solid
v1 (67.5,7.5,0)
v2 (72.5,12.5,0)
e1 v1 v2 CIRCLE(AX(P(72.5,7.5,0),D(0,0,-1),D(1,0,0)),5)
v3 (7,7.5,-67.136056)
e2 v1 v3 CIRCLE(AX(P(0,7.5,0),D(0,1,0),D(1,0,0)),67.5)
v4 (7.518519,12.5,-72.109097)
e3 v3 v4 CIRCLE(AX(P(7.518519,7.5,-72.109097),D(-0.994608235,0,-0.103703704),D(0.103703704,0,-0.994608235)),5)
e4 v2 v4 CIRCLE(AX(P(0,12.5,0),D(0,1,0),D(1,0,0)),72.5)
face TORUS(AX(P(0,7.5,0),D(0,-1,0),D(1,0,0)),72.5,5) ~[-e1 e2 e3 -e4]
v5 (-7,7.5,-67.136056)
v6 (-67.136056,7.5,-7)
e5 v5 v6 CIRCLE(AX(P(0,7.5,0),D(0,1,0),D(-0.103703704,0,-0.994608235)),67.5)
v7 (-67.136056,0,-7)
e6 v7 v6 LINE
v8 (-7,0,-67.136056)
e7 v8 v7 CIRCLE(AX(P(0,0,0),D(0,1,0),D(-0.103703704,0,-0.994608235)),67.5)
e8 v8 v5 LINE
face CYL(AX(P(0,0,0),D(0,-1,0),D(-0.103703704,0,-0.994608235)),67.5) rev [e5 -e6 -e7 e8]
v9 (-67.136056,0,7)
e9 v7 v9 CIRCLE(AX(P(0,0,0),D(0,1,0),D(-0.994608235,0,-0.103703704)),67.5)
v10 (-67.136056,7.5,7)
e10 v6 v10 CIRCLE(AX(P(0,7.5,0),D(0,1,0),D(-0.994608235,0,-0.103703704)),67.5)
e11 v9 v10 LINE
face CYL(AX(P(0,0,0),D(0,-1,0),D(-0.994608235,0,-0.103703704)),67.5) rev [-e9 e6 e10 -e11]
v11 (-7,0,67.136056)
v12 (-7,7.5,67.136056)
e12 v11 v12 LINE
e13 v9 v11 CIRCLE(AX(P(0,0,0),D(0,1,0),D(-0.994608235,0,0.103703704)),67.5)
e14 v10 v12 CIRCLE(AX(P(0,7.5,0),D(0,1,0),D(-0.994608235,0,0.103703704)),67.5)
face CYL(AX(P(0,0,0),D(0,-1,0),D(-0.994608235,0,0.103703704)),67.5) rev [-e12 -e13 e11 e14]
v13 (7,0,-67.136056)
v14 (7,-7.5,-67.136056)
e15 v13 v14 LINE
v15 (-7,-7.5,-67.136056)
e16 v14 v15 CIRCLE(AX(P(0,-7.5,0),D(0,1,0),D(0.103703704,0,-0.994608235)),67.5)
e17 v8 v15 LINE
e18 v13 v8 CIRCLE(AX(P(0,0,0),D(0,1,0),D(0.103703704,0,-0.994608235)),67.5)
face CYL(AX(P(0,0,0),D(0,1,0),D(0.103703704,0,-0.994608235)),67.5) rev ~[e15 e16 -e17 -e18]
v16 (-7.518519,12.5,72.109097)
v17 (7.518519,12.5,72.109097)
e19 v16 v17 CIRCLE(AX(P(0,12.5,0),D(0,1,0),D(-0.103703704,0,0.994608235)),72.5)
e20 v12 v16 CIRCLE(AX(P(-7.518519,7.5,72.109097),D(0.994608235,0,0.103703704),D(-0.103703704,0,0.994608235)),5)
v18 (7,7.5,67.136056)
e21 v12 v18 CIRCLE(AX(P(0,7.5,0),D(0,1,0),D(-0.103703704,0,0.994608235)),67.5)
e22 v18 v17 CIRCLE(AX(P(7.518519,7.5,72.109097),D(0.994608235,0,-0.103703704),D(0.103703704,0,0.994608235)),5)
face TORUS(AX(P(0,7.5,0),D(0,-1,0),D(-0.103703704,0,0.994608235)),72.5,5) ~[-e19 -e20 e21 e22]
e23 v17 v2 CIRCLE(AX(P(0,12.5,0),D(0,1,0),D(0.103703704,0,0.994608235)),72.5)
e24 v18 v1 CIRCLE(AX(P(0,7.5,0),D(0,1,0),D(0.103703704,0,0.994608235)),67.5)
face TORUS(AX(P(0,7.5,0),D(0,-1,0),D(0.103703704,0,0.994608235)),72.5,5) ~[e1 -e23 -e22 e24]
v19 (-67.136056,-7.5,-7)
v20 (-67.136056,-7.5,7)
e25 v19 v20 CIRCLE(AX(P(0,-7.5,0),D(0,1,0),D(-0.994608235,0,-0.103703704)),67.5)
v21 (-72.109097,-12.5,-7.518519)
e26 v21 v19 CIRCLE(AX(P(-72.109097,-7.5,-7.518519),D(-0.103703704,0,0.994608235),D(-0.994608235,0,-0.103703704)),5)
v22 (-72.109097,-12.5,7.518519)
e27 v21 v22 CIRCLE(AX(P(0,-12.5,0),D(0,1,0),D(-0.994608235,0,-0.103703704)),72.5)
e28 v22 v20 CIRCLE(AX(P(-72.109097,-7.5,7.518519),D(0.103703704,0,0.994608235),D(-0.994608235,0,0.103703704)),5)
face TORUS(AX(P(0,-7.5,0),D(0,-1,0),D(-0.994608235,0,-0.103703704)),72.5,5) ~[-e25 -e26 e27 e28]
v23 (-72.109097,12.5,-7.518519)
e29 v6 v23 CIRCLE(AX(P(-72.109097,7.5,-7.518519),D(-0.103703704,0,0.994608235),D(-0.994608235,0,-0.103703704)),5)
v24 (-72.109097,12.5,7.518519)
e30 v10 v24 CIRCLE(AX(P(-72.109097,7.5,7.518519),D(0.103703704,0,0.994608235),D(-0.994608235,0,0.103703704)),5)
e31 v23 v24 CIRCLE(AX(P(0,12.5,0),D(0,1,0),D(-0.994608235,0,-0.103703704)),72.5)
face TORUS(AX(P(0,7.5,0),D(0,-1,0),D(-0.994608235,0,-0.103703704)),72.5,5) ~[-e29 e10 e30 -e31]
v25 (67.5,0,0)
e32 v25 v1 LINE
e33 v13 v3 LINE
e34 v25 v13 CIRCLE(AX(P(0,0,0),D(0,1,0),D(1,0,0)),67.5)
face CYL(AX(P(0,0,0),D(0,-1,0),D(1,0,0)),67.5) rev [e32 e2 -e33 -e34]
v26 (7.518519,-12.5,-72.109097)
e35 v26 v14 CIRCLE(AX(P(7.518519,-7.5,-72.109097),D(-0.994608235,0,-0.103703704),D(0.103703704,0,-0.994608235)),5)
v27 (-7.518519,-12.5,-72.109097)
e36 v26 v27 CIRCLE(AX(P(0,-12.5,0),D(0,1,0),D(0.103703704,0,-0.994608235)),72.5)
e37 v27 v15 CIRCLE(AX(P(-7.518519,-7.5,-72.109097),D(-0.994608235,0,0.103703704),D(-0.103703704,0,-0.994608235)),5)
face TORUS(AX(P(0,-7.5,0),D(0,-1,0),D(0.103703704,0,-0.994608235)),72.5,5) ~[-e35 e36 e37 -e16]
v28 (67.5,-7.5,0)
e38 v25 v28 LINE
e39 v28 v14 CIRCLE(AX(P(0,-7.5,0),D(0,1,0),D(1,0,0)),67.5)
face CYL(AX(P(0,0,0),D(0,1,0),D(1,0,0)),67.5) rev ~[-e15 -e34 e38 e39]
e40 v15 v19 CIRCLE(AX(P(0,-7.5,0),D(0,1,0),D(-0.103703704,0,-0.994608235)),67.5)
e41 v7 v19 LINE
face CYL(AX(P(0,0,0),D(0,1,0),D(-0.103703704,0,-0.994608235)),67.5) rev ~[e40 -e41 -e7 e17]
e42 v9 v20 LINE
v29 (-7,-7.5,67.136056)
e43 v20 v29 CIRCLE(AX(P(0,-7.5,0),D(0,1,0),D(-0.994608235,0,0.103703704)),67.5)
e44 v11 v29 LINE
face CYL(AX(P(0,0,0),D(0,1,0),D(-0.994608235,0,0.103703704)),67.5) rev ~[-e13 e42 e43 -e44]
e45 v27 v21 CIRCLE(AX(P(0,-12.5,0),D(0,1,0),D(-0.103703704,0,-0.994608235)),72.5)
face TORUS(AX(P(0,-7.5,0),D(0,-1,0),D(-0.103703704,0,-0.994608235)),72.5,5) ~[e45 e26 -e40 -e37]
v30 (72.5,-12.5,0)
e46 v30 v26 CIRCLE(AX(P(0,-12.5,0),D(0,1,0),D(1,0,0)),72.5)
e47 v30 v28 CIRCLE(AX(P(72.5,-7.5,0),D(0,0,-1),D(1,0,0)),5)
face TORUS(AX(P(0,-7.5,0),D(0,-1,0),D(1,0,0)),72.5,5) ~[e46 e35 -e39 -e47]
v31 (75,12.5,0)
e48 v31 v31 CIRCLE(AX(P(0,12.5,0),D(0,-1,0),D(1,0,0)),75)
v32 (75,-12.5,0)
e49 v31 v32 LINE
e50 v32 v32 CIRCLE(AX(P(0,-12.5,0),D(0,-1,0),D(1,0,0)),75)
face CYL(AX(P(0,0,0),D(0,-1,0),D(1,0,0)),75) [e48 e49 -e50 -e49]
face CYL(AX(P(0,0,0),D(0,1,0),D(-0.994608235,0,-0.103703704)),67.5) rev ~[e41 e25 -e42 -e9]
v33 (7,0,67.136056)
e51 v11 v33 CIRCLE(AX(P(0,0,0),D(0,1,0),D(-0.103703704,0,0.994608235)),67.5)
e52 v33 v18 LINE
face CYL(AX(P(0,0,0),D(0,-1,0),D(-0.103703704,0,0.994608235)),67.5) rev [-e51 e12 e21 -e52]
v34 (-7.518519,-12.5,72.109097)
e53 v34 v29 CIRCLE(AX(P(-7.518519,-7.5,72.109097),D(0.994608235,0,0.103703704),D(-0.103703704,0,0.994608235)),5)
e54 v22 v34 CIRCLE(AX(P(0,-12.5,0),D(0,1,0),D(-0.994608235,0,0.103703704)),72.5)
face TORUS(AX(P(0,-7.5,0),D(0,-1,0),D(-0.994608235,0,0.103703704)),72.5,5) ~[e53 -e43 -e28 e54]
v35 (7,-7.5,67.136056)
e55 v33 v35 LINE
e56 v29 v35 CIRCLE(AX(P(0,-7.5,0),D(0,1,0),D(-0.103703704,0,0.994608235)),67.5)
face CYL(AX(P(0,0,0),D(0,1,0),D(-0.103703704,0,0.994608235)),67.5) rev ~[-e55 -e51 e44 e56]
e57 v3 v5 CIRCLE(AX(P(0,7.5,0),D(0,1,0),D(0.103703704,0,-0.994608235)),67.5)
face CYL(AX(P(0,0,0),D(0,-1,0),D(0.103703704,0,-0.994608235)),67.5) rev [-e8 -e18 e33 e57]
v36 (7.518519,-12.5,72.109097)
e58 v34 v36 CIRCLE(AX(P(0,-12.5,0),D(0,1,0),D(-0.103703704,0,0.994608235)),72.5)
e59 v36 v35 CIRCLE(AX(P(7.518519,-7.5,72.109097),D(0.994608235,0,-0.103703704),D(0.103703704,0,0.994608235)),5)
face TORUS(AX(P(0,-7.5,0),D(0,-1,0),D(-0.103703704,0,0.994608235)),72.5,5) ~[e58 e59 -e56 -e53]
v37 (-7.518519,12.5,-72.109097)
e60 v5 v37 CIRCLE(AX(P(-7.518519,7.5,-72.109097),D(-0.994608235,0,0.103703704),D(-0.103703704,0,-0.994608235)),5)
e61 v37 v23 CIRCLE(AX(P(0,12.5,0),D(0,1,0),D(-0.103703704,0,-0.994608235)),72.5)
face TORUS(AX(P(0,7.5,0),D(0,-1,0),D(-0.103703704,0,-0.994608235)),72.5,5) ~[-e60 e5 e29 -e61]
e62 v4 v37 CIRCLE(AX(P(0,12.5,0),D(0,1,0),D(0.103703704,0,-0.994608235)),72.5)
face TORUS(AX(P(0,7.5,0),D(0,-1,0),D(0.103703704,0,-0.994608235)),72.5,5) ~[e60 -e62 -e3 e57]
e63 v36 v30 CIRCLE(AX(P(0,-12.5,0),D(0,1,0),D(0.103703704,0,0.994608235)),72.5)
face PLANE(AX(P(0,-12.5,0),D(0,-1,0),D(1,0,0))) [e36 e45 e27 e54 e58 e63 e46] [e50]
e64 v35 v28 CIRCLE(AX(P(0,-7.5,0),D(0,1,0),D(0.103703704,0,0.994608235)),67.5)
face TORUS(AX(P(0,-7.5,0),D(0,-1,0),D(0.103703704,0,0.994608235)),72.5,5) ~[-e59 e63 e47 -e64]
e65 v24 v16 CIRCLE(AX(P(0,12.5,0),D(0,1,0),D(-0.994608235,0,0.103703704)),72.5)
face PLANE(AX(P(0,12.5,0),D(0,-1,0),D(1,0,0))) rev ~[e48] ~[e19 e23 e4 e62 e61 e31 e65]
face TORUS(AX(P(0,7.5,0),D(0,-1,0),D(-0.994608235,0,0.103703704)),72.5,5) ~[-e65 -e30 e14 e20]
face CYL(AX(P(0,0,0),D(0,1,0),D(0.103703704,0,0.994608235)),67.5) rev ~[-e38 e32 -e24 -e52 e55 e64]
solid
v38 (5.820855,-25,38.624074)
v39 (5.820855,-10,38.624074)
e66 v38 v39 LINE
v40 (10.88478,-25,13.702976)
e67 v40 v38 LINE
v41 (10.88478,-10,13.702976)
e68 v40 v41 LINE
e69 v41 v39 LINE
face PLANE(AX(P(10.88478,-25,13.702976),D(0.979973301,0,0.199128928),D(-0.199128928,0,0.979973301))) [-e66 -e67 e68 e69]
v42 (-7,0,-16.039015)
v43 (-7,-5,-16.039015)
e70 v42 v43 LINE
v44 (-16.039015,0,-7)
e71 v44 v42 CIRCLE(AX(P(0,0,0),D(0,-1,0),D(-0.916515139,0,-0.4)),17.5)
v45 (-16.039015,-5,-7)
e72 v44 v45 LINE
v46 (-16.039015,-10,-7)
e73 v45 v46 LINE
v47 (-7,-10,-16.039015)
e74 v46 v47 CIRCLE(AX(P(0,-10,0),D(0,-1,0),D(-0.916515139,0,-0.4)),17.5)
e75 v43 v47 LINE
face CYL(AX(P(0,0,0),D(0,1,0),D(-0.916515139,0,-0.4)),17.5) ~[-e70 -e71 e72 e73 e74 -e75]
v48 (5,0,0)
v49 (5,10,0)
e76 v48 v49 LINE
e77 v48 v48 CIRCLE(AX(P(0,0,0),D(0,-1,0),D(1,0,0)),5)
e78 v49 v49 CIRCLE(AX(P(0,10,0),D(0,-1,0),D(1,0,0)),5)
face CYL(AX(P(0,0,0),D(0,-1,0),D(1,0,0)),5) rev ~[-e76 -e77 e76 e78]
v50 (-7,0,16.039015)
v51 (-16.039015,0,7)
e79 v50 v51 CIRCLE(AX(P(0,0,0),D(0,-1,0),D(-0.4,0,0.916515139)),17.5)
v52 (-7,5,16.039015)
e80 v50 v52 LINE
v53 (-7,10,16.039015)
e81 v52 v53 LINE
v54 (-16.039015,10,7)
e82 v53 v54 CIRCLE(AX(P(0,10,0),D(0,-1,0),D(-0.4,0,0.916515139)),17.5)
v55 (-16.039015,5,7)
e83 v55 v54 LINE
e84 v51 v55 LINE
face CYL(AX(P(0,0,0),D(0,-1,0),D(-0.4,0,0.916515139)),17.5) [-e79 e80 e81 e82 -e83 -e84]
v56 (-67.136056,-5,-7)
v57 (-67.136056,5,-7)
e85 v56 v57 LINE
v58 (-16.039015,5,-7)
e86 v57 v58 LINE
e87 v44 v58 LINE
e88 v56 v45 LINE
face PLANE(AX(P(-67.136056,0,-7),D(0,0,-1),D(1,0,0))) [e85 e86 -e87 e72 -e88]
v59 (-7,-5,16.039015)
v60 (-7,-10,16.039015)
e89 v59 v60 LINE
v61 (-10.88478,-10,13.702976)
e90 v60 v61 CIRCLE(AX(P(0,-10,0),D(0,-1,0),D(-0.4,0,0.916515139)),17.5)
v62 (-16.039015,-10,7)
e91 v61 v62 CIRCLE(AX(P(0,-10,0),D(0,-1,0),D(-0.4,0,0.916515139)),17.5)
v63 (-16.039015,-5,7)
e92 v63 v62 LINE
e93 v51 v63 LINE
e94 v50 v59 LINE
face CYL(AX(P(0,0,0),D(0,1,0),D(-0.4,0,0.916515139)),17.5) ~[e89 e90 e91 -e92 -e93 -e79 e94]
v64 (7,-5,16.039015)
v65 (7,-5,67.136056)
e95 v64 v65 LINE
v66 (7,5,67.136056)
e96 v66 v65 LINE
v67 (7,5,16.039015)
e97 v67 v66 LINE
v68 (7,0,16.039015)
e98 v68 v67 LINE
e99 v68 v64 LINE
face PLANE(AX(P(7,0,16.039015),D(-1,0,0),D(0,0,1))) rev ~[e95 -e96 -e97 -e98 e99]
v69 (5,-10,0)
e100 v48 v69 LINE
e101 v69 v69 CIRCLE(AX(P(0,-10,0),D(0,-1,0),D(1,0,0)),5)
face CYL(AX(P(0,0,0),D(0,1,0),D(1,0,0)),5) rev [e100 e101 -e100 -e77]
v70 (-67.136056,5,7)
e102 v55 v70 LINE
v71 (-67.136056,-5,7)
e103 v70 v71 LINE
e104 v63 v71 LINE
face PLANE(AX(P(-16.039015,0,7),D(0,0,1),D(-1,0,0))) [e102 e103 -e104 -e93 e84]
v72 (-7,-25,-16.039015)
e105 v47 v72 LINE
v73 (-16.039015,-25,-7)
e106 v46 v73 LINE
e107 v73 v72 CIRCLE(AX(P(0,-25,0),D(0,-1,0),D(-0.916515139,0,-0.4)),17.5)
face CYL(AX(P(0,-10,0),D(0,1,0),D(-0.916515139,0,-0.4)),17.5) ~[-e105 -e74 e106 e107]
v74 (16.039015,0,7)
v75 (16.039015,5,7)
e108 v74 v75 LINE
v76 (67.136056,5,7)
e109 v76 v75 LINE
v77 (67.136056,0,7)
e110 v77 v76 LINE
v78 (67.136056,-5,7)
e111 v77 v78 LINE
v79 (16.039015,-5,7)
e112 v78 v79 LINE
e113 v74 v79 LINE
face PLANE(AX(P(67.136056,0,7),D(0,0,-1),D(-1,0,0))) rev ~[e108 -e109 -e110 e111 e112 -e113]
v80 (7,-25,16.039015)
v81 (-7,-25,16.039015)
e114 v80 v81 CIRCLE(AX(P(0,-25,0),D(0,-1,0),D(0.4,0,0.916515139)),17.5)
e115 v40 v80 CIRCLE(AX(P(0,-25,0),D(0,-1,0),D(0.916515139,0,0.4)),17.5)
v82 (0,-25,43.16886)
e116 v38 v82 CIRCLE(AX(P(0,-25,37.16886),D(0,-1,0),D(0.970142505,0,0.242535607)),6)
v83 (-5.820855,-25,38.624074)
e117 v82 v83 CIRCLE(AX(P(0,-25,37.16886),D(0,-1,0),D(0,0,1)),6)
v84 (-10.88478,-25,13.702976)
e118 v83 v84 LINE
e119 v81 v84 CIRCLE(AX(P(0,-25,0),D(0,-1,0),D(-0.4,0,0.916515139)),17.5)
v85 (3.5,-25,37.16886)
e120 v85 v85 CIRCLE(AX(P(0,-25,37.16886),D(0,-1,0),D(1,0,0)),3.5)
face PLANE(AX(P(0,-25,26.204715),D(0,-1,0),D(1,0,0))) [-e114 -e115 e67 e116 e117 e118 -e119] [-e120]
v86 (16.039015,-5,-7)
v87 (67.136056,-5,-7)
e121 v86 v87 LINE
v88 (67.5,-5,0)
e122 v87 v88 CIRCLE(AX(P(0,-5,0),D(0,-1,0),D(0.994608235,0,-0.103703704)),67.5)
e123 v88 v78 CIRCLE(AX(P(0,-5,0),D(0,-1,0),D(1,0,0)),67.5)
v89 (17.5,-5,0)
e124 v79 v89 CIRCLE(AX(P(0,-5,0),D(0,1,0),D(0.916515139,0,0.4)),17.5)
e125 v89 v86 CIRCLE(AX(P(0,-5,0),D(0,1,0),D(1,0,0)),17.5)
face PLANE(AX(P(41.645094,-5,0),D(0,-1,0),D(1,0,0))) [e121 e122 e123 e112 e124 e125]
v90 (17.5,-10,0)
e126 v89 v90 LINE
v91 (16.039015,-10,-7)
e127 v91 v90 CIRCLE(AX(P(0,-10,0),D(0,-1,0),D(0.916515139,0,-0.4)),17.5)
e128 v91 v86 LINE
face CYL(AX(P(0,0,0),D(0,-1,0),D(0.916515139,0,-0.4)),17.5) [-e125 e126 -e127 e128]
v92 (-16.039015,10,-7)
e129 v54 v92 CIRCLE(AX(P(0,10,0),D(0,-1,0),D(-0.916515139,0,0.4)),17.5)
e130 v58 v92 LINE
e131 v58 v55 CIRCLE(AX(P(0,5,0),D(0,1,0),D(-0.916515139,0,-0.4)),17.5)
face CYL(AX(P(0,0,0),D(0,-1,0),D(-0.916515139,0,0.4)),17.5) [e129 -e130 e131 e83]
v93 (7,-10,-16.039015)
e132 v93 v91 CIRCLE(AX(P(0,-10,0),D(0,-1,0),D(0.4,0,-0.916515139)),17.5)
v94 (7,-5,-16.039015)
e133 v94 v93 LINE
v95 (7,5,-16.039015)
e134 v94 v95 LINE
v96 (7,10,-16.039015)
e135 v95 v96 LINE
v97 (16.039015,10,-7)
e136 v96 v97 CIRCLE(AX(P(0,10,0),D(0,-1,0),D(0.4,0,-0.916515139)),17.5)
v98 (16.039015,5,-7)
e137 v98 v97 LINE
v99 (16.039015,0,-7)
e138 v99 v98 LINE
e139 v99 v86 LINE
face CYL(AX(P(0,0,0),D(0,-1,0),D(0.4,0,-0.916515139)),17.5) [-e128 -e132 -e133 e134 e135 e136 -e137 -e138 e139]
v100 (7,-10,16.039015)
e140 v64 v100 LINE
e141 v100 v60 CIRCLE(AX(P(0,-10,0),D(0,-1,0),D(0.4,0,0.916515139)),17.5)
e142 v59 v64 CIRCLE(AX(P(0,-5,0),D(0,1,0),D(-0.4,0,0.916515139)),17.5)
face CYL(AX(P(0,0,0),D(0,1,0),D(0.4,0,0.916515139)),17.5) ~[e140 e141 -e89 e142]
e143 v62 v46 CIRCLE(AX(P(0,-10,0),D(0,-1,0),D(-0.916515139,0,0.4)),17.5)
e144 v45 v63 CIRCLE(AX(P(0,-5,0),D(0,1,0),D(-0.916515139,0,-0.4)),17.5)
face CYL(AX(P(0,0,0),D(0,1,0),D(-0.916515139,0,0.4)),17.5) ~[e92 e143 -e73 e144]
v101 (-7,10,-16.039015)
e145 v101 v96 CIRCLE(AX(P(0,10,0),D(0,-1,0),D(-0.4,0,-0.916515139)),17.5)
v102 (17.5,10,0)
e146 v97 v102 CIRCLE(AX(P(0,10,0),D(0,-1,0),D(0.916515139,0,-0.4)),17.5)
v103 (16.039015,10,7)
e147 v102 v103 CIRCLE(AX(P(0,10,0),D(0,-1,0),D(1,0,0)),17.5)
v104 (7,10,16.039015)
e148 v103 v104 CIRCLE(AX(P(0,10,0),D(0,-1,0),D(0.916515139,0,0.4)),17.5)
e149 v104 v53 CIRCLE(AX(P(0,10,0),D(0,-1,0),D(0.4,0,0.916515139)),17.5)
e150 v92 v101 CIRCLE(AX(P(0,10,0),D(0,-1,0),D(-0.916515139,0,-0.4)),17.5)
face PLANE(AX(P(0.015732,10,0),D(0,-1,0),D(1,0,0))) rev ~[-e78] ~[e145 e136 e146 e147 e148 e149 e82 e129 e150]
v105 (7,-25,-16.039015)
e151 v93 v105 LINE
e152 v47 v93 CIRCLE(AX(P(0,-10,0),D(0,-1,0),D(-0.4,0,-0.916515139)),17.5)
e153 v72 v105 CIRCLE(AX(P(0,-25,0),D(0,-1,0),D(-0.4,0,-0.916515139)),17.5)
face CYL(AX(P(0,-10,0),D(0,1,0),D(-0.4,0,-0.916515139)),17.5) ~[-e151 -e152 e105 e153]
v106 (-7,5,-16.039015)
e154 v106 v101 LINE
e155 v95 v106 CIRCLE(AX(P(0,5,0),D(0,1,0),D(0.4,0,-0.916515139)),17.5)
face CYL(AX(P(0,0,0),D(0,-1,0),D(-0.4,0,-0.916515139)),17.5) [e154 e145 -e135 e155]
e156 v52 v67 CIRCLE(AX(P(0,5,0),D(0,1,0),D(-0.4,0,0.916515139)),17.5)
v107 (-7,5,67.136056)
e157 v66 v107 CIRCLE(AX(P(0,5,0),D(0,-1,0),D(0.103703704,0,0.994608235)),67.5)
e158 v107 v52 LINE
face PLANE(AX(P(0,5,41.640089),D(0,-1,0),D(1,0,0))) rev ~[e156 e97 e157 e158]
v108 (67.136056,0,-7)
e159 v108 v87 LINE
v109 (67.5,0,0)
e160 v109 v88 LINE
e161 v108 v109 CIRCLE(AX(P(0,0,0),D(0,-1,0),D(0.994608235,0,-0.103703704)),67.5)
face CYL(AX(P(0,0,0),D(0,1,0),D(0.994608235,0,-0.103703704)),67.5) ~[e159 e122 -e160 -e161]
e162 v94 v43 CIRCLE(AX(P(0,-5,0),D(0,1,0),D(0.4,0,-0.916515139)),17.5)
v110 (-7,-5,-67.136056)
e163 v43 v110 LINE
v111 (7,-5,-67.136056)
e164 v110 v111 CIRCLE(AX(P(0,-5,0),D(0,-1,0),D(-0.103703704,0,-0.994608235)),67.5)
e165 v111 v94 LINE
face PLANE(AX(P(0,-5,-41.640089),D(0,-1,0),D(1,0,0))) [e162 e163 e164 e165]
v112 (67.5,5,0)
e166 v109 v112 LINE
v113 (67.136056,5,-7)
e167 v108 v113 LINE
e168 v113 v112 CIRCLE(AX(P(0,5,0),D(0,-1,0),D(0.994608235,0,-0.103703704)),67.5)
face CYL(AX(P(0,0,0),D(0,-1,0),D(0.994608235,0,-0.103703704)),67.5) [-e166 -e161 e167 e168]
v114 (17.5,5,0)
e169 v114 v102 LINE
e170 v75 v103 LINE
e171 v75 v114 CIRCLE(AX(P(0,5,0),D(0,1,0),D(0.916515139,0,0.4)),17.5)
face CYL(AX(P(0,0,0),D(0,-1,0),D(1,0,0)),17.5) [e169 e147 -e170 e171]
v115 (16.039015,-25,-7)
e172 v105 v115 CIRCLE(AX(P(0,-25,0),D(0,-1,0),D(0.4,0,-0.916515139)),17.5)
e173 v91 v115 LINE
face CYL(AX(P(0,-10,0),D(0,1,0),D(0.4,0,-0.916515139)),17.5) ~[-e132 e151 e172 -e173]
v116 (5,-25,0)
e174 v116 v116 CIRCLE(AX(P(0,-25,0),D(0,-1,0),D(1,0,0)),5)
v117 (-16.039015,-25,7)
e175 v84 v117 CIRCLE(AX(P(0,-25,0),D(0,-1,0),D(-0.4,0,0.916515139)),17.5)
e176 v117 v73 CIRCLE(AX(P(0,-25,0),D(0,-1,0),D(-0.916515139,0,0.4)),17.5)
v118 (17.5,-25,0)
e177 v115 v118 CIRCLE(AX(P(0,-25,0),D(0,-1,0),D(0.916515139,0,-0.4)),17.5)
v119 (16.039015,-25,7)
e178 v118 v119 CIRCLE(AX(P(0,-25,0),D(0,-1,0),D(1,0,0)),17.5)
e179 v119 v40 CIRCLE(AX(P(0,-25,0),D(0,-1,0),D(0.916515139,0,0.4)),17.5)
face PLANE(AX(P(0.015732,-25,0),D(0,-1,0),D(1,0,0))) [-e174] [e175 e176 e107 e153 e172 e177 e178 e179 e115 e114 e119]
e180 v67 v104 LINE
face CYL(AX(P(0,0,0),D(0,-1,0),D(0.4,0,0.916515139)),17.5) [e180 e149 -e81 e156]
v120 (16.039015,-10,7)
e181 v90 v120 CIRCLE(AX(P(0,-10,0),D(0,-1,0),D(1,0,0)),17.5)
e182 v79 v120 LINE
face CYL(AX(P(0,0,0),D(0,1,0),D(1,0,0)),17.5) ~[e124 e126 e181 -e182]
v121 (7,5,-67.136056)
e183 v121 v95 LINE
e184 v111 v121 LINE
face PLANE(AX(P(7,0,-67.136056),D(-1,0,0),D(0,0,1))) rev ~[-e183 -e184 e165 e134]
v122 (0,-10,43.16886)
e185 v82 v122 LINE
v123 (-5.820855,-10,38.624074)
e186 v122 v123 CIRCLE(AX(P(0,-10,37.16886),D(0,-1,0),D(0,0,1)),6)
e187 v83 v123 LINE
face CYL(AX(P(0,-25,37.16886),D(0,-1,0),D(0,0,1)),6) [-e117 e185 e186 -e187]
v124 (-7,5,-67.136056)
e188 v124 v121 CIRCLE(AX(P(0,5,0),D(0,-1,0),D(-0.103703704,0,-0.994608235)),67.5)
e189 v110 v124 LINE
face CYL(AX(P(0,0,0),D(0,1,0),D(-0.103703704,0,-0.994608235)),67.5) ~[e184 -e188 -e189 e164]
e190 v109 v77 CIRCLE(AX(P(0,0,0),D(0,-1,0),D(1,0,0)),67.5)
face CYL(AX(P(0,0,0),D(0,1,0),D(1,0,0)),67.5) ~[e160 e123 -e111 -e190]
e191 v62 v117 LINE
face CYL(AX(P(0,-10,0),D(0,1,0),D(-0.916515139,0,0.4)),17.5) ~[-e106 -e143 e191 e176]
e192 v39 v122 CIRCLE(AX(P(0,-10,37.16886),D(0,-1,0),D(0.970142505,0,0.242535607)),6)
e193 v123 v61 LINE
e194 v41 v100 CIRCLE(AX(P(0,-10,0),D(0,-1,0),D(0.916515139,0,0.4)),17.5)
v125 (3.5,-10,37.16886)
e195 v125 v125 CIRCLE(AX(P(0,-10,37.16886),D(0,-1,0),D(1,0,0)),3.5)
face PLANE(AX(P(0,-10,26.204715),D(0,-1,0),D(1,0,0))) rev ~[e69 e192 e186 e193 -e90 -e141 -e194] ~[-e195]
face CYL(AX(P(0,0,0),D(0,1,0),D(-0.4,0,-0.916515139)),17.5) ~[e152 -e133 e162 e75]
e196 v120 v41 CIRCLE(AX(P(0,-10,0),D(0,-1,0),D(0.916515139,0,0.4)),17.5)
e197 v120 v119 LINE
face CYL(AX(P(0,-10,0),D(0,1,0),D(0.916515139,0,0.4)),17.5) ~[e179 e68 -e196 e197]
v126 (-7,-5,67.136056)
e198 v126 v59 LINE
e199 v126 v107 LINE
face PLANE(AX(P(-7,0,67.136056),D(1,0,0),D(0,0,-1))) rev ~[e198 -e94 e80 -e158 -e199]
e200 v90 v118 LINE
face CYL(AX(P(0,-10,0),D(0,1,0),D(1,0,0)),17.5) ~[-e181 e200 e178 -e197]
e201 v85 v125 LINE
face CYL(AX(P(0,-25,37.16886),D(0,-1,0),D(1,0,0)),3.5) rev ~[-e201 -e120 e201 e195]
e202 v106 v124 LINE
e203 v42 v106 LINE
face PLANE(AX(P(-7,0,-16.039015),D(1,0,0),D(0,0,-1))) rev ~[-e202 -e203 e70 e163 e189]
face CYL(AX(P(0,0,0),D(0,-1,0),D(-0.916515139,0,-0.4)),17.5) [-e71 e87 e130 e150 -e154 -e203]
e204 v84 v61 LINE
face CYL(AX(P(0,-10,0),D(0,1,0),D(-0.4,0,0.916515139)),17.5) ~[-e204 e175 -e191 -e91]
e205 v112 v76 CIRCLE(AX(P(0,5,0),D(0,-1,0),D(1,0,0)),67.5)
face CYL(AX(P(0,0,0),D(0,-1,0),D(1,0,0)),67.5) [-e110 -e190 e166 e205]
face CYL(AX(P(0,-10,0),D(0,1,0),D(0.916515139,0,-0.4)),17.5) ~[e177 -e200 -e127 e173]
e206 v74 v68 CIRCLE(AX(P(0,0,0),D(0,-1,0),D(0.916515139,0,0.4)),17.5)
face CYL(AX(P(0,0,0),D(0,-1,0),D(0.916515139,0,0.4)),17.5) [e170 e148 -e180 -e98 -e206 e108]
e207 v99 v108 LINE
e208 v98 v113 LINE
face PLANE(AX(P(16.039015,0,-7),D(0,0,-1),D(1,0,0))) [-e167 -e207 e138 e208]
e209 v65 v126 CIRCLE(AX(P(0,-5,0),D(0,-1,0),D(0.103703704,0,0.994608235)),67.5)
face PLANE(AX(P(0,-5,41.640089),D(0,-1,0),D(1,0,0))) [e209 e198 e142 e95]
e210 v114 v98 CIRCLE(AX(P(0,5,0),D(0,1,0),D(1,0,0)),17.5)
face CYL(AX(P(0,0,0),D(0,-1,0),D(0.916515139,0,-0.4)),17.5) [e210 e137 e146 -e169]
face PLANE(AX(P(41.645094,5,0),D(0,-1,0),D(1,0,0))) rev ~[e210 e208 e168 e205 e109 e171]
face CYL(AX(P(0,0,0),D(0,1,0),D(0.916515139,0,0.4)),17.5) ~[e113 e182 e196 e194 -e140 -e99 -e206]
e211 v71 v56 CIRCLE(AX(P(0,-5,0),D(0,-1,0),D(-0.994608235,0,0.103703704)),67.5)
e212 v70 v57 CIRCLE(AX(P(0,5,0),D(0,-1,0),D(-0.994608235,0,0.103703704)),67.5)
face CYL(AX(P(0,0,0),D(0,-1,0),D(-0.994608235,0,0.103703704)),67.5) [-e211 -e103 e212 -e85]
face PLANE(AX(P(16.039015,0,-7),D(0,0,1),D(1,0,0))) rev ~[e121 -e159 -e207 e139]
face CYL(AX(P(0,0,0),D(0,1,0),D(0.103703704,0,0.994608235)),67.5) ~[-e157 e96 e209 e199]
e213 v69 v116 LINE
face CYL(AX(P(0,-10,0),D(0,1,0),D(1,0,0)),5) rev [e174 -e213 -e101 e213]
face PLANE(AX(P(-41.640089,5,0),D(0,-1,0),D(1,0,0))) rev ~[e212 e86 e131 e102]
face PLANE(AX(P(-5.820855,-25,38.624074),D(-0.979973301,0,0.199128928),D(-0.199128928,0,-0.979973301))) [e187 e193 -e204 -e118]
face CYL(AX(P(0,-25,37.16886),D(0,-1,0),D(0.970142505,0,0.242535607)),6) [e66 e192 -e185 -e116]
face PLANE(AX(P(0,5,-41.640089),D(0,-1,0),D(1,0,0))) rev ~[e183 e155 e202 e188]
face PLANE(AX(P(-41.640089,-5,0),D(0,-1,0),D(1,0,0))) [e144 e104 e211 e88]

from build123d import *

# Parameters (mm, degrees)
F0_R     = 75
F1_DEPTH = 12.5
F0_R_2   = 5
F2_DEPTH = 10
F3_DEPTH = 5
F4_R     = 5
F5_DEPTH = 15
F6_R     = 3.5
F7_DEPTH = 15
F8_R     = 5


with BuildPart() as f1:
    # F0 (on Front) → F1 (new body, symmetric)
    with BuildSketch(Plane.XZ):
        Circle(F0_R)
        with BuildLine():
            ThreePointArc((7, 67.1360558865), (47.7297077301, 47.7297077301), (67.1360558865, 7))
            ThreePointArc((67.1360558865, 7), (67.4089525669, 3.5047273545), (67.5, 0))
            ThreePointArc((67.5, 0), (67.4089525669, -3.5047273545), (67.1360558865, -7))
            ThreePointArc((67.1360558865, -7), (47.7297077301, -47.7297077301), (7, -67.1360558865))
            ThreePointArc((7, -67.1360558865), (0, -67.5), (-7, -67.1360558865))
            ThreePointArc((-7, -67.1360558865), (-47.7297077301, -47.7297077301), (-67.1360558865, -7))
            ThreePointArc((-67.1360558865, -7), (-67.5, 0), (-67.1360558865, 7))
            ThreePointArc((-67.1360558865, 7), (-47.7297077301, 47.7297077301), (-7, 67.1360558865))
            ThreePointArc((-7, 67.1360558865), (0, 67.5), (7, 67.1360558865))
        make_face(mode=Mode.SUBTRACT)
    extrude(amount=F1_DEPTH, both=True)

    # F8
    f8_edges = [f1.edges().sort_by_distance(p)[0] for p in [
        (-67.5, -12.5, 0),
        (-67.5, 12.5, 0),
    ]]
    fillet(f8_edges, radius=F8_R)


with BuildPart() as f2:
    # F0 (on Front) → F2 (new body, symmetric)
    with BuildSketch(Plane.XZ):
        with BuildLine():
            ThreePointArc((16.0390149323, -7), (17.1308604763, -3.5754187646), (17.5, 0))
            ThreePointArc((17.5, 0), (17.1308604763, 3.5754187646), (16.0390149323, 7))
            ThreePointArc((16.0390149323, 7), (12.3743686708, 12.3743686708), (7, 16.0390149323))
            ThreePointArc((7, 16.0390149323), (0, 17.5), (-7, 16.0390149323))
            ThreePointArc((-7, 16.0390149323), (-12.3743686708, 12.3743686708), (-16.0390149323, 7))
            ThreePointArc((-16.0390149323, 7), (-17.5, 0), (-16.0390149323, -7))
            ThreePointArc((-16.0390149323, -7), (-12.3743686708, -12.3743686708), (-7, -16.0390149323))
            ThreePointArc((-7, -16.0390149323), (0, -17.5), (7, -16.0390149323))
            ThreePointArc((7, -16.0390149323), (12.3743686708, -12.3743686708), (16.0390149323, -7))
        make_face()
        Circle(F0_R_2, mode=Mode.SUBTRACT)
    extrude(amount=F2_DEPTH, both=True)

    # F0 (on Front) → F3 (join, symmetric)
    with BuildSketch(Plane.XZ):
        with BuildLine():
            ThreePointArc((-7, 16.0390149323), (0, 17.5), (7, 16.0390149323))
            Line((7, 16.0390149323), (7, 67.1360558865))
            ThreePointArc((7, 67.1360558865), (0, 67.5), (-7, 67.1360558865))
            Line((-7, 67.1360558865), (-7, 16.0390149323))
        make_face()
        with BuildLine():
            ThreePointArc((16.0390149323, 7), (17.1308604763, 3.5754187646), (17.5, 0))
            ThreePointArc((17.5, 0), (17.1308604763, -3.5754187646), (16.0390149323, -7))
            Line((16.0390149323, -7), (67.1360558865, -7))
            ThreePointArc((67.1360558865, -7), (67.4089525669, -3.5047273545), (67.5, 0))
            ThreePointArc((67.5, 0), (67.4089525669, 3.5047273545), (67.1360558865, 7))
            Line((67.1360558865, 7), (16.0390149323, 7))
        make_face()
        with BuildLine():
            Line((7, -67.1360558865), (7, -16.0390149323))
            ThreePointArc((7, -16.0390149323), (0, -17.5), (-7, -16.0390149323))
            Line((-7, -16.0390149323), (-7, -67.1360558865))
            ThreePointArc((-7, -67.1360558865), (0, -67.5), (7, -67.1360558865))
        make_face()
        with BuildLine():
            ThreePointArc((-16.0390149323, -7), (-17.5, 0), (-16.0390149323, 7))
            Line((-16.0390149323, 7), (-67.1360558865, 7))
            ThreePointArc((-67.1360558865, 7), (-67.5, 0), (-67.1360558865, -7))
            Line((-67.1360558865, -7), (-16.0390149323, -7))
        make_face()
    extrude(amount=F3_DEPTH, both=True)

    # F4 (on face) → F5 (join)
    with BuildSketch(Plane.XZ.offset(10)):
        with BuildLine():
            ThreePointArc((16.0390149323, -7), (17.1308604763, -3.5754187646), (17.5, 0))
            ThreePointArc((17.5, 0), (17.1308604763, 3.5754187646), (16.0390149323, 7))
            ThreePointArc((16.0390149323, 7), (12.3743686708, 12.3743686708), (7, 16.0390149323))
            ThreePointArc((7, 16.0390149323), (0, 17.5), (-7, 16.0390149323))
            ThreePointArc((-7, 16.0390149323), (-12.3743686708, 12.3743686708), (-16.0390149323, 7))
            ThreePointArc((-16.0390149323, 7), (-17.5, 0), (-16.0390149323, -7))
            ThreePointArc((-16.0390149323, -7), (-12.3743686708, -12.3743686708), (-7, -16.0390149323))
            ThreePointArc((-7, -16.0390149323), (0, -17.5), (7, -16.0390149323))
            ThreePointArc((7, -16.0390149323), (12.3743686708, -12.3743686708), (16.0390149323, -7))
        make_face()
        Circle(F4_R, mode=Mode.SUBTRACT)
    extrude(amount=F5_DEPTH)

    # F6 (on face) → F7 (join)
    with BuildSketch(Plane.XZ.offset(25)):
        with BuildLine():
            Line((-5.8208550274, 38.6240740795), (-10.884780211, 13.7029763102))
            ThreePointArc((-10.884780211, 13.7029763102), (0, 17.5), (10.884780211, 13.7029763102))
            Line((10.884780211, 13.7029763102), (5.8208550274, 38.6240740795))
            ThreePointArc((5.8208550274, 38.6240740795), (3.6924732995, 41.8980930299), (0, 43.1688604355))
            ThreePointArc((0, 43.1688604355), (-3.6924732995, 41.8980930299), (-5.8208550274, 38.6240740795))
        make_face()
        with Locations((0, 37.1688604355)):
            Circle(F6_R, mode=Mode.SUBTRACT)
    extrude(amount=-F7_DEPTH)


solid = Compound([f1.part, f2.part])
